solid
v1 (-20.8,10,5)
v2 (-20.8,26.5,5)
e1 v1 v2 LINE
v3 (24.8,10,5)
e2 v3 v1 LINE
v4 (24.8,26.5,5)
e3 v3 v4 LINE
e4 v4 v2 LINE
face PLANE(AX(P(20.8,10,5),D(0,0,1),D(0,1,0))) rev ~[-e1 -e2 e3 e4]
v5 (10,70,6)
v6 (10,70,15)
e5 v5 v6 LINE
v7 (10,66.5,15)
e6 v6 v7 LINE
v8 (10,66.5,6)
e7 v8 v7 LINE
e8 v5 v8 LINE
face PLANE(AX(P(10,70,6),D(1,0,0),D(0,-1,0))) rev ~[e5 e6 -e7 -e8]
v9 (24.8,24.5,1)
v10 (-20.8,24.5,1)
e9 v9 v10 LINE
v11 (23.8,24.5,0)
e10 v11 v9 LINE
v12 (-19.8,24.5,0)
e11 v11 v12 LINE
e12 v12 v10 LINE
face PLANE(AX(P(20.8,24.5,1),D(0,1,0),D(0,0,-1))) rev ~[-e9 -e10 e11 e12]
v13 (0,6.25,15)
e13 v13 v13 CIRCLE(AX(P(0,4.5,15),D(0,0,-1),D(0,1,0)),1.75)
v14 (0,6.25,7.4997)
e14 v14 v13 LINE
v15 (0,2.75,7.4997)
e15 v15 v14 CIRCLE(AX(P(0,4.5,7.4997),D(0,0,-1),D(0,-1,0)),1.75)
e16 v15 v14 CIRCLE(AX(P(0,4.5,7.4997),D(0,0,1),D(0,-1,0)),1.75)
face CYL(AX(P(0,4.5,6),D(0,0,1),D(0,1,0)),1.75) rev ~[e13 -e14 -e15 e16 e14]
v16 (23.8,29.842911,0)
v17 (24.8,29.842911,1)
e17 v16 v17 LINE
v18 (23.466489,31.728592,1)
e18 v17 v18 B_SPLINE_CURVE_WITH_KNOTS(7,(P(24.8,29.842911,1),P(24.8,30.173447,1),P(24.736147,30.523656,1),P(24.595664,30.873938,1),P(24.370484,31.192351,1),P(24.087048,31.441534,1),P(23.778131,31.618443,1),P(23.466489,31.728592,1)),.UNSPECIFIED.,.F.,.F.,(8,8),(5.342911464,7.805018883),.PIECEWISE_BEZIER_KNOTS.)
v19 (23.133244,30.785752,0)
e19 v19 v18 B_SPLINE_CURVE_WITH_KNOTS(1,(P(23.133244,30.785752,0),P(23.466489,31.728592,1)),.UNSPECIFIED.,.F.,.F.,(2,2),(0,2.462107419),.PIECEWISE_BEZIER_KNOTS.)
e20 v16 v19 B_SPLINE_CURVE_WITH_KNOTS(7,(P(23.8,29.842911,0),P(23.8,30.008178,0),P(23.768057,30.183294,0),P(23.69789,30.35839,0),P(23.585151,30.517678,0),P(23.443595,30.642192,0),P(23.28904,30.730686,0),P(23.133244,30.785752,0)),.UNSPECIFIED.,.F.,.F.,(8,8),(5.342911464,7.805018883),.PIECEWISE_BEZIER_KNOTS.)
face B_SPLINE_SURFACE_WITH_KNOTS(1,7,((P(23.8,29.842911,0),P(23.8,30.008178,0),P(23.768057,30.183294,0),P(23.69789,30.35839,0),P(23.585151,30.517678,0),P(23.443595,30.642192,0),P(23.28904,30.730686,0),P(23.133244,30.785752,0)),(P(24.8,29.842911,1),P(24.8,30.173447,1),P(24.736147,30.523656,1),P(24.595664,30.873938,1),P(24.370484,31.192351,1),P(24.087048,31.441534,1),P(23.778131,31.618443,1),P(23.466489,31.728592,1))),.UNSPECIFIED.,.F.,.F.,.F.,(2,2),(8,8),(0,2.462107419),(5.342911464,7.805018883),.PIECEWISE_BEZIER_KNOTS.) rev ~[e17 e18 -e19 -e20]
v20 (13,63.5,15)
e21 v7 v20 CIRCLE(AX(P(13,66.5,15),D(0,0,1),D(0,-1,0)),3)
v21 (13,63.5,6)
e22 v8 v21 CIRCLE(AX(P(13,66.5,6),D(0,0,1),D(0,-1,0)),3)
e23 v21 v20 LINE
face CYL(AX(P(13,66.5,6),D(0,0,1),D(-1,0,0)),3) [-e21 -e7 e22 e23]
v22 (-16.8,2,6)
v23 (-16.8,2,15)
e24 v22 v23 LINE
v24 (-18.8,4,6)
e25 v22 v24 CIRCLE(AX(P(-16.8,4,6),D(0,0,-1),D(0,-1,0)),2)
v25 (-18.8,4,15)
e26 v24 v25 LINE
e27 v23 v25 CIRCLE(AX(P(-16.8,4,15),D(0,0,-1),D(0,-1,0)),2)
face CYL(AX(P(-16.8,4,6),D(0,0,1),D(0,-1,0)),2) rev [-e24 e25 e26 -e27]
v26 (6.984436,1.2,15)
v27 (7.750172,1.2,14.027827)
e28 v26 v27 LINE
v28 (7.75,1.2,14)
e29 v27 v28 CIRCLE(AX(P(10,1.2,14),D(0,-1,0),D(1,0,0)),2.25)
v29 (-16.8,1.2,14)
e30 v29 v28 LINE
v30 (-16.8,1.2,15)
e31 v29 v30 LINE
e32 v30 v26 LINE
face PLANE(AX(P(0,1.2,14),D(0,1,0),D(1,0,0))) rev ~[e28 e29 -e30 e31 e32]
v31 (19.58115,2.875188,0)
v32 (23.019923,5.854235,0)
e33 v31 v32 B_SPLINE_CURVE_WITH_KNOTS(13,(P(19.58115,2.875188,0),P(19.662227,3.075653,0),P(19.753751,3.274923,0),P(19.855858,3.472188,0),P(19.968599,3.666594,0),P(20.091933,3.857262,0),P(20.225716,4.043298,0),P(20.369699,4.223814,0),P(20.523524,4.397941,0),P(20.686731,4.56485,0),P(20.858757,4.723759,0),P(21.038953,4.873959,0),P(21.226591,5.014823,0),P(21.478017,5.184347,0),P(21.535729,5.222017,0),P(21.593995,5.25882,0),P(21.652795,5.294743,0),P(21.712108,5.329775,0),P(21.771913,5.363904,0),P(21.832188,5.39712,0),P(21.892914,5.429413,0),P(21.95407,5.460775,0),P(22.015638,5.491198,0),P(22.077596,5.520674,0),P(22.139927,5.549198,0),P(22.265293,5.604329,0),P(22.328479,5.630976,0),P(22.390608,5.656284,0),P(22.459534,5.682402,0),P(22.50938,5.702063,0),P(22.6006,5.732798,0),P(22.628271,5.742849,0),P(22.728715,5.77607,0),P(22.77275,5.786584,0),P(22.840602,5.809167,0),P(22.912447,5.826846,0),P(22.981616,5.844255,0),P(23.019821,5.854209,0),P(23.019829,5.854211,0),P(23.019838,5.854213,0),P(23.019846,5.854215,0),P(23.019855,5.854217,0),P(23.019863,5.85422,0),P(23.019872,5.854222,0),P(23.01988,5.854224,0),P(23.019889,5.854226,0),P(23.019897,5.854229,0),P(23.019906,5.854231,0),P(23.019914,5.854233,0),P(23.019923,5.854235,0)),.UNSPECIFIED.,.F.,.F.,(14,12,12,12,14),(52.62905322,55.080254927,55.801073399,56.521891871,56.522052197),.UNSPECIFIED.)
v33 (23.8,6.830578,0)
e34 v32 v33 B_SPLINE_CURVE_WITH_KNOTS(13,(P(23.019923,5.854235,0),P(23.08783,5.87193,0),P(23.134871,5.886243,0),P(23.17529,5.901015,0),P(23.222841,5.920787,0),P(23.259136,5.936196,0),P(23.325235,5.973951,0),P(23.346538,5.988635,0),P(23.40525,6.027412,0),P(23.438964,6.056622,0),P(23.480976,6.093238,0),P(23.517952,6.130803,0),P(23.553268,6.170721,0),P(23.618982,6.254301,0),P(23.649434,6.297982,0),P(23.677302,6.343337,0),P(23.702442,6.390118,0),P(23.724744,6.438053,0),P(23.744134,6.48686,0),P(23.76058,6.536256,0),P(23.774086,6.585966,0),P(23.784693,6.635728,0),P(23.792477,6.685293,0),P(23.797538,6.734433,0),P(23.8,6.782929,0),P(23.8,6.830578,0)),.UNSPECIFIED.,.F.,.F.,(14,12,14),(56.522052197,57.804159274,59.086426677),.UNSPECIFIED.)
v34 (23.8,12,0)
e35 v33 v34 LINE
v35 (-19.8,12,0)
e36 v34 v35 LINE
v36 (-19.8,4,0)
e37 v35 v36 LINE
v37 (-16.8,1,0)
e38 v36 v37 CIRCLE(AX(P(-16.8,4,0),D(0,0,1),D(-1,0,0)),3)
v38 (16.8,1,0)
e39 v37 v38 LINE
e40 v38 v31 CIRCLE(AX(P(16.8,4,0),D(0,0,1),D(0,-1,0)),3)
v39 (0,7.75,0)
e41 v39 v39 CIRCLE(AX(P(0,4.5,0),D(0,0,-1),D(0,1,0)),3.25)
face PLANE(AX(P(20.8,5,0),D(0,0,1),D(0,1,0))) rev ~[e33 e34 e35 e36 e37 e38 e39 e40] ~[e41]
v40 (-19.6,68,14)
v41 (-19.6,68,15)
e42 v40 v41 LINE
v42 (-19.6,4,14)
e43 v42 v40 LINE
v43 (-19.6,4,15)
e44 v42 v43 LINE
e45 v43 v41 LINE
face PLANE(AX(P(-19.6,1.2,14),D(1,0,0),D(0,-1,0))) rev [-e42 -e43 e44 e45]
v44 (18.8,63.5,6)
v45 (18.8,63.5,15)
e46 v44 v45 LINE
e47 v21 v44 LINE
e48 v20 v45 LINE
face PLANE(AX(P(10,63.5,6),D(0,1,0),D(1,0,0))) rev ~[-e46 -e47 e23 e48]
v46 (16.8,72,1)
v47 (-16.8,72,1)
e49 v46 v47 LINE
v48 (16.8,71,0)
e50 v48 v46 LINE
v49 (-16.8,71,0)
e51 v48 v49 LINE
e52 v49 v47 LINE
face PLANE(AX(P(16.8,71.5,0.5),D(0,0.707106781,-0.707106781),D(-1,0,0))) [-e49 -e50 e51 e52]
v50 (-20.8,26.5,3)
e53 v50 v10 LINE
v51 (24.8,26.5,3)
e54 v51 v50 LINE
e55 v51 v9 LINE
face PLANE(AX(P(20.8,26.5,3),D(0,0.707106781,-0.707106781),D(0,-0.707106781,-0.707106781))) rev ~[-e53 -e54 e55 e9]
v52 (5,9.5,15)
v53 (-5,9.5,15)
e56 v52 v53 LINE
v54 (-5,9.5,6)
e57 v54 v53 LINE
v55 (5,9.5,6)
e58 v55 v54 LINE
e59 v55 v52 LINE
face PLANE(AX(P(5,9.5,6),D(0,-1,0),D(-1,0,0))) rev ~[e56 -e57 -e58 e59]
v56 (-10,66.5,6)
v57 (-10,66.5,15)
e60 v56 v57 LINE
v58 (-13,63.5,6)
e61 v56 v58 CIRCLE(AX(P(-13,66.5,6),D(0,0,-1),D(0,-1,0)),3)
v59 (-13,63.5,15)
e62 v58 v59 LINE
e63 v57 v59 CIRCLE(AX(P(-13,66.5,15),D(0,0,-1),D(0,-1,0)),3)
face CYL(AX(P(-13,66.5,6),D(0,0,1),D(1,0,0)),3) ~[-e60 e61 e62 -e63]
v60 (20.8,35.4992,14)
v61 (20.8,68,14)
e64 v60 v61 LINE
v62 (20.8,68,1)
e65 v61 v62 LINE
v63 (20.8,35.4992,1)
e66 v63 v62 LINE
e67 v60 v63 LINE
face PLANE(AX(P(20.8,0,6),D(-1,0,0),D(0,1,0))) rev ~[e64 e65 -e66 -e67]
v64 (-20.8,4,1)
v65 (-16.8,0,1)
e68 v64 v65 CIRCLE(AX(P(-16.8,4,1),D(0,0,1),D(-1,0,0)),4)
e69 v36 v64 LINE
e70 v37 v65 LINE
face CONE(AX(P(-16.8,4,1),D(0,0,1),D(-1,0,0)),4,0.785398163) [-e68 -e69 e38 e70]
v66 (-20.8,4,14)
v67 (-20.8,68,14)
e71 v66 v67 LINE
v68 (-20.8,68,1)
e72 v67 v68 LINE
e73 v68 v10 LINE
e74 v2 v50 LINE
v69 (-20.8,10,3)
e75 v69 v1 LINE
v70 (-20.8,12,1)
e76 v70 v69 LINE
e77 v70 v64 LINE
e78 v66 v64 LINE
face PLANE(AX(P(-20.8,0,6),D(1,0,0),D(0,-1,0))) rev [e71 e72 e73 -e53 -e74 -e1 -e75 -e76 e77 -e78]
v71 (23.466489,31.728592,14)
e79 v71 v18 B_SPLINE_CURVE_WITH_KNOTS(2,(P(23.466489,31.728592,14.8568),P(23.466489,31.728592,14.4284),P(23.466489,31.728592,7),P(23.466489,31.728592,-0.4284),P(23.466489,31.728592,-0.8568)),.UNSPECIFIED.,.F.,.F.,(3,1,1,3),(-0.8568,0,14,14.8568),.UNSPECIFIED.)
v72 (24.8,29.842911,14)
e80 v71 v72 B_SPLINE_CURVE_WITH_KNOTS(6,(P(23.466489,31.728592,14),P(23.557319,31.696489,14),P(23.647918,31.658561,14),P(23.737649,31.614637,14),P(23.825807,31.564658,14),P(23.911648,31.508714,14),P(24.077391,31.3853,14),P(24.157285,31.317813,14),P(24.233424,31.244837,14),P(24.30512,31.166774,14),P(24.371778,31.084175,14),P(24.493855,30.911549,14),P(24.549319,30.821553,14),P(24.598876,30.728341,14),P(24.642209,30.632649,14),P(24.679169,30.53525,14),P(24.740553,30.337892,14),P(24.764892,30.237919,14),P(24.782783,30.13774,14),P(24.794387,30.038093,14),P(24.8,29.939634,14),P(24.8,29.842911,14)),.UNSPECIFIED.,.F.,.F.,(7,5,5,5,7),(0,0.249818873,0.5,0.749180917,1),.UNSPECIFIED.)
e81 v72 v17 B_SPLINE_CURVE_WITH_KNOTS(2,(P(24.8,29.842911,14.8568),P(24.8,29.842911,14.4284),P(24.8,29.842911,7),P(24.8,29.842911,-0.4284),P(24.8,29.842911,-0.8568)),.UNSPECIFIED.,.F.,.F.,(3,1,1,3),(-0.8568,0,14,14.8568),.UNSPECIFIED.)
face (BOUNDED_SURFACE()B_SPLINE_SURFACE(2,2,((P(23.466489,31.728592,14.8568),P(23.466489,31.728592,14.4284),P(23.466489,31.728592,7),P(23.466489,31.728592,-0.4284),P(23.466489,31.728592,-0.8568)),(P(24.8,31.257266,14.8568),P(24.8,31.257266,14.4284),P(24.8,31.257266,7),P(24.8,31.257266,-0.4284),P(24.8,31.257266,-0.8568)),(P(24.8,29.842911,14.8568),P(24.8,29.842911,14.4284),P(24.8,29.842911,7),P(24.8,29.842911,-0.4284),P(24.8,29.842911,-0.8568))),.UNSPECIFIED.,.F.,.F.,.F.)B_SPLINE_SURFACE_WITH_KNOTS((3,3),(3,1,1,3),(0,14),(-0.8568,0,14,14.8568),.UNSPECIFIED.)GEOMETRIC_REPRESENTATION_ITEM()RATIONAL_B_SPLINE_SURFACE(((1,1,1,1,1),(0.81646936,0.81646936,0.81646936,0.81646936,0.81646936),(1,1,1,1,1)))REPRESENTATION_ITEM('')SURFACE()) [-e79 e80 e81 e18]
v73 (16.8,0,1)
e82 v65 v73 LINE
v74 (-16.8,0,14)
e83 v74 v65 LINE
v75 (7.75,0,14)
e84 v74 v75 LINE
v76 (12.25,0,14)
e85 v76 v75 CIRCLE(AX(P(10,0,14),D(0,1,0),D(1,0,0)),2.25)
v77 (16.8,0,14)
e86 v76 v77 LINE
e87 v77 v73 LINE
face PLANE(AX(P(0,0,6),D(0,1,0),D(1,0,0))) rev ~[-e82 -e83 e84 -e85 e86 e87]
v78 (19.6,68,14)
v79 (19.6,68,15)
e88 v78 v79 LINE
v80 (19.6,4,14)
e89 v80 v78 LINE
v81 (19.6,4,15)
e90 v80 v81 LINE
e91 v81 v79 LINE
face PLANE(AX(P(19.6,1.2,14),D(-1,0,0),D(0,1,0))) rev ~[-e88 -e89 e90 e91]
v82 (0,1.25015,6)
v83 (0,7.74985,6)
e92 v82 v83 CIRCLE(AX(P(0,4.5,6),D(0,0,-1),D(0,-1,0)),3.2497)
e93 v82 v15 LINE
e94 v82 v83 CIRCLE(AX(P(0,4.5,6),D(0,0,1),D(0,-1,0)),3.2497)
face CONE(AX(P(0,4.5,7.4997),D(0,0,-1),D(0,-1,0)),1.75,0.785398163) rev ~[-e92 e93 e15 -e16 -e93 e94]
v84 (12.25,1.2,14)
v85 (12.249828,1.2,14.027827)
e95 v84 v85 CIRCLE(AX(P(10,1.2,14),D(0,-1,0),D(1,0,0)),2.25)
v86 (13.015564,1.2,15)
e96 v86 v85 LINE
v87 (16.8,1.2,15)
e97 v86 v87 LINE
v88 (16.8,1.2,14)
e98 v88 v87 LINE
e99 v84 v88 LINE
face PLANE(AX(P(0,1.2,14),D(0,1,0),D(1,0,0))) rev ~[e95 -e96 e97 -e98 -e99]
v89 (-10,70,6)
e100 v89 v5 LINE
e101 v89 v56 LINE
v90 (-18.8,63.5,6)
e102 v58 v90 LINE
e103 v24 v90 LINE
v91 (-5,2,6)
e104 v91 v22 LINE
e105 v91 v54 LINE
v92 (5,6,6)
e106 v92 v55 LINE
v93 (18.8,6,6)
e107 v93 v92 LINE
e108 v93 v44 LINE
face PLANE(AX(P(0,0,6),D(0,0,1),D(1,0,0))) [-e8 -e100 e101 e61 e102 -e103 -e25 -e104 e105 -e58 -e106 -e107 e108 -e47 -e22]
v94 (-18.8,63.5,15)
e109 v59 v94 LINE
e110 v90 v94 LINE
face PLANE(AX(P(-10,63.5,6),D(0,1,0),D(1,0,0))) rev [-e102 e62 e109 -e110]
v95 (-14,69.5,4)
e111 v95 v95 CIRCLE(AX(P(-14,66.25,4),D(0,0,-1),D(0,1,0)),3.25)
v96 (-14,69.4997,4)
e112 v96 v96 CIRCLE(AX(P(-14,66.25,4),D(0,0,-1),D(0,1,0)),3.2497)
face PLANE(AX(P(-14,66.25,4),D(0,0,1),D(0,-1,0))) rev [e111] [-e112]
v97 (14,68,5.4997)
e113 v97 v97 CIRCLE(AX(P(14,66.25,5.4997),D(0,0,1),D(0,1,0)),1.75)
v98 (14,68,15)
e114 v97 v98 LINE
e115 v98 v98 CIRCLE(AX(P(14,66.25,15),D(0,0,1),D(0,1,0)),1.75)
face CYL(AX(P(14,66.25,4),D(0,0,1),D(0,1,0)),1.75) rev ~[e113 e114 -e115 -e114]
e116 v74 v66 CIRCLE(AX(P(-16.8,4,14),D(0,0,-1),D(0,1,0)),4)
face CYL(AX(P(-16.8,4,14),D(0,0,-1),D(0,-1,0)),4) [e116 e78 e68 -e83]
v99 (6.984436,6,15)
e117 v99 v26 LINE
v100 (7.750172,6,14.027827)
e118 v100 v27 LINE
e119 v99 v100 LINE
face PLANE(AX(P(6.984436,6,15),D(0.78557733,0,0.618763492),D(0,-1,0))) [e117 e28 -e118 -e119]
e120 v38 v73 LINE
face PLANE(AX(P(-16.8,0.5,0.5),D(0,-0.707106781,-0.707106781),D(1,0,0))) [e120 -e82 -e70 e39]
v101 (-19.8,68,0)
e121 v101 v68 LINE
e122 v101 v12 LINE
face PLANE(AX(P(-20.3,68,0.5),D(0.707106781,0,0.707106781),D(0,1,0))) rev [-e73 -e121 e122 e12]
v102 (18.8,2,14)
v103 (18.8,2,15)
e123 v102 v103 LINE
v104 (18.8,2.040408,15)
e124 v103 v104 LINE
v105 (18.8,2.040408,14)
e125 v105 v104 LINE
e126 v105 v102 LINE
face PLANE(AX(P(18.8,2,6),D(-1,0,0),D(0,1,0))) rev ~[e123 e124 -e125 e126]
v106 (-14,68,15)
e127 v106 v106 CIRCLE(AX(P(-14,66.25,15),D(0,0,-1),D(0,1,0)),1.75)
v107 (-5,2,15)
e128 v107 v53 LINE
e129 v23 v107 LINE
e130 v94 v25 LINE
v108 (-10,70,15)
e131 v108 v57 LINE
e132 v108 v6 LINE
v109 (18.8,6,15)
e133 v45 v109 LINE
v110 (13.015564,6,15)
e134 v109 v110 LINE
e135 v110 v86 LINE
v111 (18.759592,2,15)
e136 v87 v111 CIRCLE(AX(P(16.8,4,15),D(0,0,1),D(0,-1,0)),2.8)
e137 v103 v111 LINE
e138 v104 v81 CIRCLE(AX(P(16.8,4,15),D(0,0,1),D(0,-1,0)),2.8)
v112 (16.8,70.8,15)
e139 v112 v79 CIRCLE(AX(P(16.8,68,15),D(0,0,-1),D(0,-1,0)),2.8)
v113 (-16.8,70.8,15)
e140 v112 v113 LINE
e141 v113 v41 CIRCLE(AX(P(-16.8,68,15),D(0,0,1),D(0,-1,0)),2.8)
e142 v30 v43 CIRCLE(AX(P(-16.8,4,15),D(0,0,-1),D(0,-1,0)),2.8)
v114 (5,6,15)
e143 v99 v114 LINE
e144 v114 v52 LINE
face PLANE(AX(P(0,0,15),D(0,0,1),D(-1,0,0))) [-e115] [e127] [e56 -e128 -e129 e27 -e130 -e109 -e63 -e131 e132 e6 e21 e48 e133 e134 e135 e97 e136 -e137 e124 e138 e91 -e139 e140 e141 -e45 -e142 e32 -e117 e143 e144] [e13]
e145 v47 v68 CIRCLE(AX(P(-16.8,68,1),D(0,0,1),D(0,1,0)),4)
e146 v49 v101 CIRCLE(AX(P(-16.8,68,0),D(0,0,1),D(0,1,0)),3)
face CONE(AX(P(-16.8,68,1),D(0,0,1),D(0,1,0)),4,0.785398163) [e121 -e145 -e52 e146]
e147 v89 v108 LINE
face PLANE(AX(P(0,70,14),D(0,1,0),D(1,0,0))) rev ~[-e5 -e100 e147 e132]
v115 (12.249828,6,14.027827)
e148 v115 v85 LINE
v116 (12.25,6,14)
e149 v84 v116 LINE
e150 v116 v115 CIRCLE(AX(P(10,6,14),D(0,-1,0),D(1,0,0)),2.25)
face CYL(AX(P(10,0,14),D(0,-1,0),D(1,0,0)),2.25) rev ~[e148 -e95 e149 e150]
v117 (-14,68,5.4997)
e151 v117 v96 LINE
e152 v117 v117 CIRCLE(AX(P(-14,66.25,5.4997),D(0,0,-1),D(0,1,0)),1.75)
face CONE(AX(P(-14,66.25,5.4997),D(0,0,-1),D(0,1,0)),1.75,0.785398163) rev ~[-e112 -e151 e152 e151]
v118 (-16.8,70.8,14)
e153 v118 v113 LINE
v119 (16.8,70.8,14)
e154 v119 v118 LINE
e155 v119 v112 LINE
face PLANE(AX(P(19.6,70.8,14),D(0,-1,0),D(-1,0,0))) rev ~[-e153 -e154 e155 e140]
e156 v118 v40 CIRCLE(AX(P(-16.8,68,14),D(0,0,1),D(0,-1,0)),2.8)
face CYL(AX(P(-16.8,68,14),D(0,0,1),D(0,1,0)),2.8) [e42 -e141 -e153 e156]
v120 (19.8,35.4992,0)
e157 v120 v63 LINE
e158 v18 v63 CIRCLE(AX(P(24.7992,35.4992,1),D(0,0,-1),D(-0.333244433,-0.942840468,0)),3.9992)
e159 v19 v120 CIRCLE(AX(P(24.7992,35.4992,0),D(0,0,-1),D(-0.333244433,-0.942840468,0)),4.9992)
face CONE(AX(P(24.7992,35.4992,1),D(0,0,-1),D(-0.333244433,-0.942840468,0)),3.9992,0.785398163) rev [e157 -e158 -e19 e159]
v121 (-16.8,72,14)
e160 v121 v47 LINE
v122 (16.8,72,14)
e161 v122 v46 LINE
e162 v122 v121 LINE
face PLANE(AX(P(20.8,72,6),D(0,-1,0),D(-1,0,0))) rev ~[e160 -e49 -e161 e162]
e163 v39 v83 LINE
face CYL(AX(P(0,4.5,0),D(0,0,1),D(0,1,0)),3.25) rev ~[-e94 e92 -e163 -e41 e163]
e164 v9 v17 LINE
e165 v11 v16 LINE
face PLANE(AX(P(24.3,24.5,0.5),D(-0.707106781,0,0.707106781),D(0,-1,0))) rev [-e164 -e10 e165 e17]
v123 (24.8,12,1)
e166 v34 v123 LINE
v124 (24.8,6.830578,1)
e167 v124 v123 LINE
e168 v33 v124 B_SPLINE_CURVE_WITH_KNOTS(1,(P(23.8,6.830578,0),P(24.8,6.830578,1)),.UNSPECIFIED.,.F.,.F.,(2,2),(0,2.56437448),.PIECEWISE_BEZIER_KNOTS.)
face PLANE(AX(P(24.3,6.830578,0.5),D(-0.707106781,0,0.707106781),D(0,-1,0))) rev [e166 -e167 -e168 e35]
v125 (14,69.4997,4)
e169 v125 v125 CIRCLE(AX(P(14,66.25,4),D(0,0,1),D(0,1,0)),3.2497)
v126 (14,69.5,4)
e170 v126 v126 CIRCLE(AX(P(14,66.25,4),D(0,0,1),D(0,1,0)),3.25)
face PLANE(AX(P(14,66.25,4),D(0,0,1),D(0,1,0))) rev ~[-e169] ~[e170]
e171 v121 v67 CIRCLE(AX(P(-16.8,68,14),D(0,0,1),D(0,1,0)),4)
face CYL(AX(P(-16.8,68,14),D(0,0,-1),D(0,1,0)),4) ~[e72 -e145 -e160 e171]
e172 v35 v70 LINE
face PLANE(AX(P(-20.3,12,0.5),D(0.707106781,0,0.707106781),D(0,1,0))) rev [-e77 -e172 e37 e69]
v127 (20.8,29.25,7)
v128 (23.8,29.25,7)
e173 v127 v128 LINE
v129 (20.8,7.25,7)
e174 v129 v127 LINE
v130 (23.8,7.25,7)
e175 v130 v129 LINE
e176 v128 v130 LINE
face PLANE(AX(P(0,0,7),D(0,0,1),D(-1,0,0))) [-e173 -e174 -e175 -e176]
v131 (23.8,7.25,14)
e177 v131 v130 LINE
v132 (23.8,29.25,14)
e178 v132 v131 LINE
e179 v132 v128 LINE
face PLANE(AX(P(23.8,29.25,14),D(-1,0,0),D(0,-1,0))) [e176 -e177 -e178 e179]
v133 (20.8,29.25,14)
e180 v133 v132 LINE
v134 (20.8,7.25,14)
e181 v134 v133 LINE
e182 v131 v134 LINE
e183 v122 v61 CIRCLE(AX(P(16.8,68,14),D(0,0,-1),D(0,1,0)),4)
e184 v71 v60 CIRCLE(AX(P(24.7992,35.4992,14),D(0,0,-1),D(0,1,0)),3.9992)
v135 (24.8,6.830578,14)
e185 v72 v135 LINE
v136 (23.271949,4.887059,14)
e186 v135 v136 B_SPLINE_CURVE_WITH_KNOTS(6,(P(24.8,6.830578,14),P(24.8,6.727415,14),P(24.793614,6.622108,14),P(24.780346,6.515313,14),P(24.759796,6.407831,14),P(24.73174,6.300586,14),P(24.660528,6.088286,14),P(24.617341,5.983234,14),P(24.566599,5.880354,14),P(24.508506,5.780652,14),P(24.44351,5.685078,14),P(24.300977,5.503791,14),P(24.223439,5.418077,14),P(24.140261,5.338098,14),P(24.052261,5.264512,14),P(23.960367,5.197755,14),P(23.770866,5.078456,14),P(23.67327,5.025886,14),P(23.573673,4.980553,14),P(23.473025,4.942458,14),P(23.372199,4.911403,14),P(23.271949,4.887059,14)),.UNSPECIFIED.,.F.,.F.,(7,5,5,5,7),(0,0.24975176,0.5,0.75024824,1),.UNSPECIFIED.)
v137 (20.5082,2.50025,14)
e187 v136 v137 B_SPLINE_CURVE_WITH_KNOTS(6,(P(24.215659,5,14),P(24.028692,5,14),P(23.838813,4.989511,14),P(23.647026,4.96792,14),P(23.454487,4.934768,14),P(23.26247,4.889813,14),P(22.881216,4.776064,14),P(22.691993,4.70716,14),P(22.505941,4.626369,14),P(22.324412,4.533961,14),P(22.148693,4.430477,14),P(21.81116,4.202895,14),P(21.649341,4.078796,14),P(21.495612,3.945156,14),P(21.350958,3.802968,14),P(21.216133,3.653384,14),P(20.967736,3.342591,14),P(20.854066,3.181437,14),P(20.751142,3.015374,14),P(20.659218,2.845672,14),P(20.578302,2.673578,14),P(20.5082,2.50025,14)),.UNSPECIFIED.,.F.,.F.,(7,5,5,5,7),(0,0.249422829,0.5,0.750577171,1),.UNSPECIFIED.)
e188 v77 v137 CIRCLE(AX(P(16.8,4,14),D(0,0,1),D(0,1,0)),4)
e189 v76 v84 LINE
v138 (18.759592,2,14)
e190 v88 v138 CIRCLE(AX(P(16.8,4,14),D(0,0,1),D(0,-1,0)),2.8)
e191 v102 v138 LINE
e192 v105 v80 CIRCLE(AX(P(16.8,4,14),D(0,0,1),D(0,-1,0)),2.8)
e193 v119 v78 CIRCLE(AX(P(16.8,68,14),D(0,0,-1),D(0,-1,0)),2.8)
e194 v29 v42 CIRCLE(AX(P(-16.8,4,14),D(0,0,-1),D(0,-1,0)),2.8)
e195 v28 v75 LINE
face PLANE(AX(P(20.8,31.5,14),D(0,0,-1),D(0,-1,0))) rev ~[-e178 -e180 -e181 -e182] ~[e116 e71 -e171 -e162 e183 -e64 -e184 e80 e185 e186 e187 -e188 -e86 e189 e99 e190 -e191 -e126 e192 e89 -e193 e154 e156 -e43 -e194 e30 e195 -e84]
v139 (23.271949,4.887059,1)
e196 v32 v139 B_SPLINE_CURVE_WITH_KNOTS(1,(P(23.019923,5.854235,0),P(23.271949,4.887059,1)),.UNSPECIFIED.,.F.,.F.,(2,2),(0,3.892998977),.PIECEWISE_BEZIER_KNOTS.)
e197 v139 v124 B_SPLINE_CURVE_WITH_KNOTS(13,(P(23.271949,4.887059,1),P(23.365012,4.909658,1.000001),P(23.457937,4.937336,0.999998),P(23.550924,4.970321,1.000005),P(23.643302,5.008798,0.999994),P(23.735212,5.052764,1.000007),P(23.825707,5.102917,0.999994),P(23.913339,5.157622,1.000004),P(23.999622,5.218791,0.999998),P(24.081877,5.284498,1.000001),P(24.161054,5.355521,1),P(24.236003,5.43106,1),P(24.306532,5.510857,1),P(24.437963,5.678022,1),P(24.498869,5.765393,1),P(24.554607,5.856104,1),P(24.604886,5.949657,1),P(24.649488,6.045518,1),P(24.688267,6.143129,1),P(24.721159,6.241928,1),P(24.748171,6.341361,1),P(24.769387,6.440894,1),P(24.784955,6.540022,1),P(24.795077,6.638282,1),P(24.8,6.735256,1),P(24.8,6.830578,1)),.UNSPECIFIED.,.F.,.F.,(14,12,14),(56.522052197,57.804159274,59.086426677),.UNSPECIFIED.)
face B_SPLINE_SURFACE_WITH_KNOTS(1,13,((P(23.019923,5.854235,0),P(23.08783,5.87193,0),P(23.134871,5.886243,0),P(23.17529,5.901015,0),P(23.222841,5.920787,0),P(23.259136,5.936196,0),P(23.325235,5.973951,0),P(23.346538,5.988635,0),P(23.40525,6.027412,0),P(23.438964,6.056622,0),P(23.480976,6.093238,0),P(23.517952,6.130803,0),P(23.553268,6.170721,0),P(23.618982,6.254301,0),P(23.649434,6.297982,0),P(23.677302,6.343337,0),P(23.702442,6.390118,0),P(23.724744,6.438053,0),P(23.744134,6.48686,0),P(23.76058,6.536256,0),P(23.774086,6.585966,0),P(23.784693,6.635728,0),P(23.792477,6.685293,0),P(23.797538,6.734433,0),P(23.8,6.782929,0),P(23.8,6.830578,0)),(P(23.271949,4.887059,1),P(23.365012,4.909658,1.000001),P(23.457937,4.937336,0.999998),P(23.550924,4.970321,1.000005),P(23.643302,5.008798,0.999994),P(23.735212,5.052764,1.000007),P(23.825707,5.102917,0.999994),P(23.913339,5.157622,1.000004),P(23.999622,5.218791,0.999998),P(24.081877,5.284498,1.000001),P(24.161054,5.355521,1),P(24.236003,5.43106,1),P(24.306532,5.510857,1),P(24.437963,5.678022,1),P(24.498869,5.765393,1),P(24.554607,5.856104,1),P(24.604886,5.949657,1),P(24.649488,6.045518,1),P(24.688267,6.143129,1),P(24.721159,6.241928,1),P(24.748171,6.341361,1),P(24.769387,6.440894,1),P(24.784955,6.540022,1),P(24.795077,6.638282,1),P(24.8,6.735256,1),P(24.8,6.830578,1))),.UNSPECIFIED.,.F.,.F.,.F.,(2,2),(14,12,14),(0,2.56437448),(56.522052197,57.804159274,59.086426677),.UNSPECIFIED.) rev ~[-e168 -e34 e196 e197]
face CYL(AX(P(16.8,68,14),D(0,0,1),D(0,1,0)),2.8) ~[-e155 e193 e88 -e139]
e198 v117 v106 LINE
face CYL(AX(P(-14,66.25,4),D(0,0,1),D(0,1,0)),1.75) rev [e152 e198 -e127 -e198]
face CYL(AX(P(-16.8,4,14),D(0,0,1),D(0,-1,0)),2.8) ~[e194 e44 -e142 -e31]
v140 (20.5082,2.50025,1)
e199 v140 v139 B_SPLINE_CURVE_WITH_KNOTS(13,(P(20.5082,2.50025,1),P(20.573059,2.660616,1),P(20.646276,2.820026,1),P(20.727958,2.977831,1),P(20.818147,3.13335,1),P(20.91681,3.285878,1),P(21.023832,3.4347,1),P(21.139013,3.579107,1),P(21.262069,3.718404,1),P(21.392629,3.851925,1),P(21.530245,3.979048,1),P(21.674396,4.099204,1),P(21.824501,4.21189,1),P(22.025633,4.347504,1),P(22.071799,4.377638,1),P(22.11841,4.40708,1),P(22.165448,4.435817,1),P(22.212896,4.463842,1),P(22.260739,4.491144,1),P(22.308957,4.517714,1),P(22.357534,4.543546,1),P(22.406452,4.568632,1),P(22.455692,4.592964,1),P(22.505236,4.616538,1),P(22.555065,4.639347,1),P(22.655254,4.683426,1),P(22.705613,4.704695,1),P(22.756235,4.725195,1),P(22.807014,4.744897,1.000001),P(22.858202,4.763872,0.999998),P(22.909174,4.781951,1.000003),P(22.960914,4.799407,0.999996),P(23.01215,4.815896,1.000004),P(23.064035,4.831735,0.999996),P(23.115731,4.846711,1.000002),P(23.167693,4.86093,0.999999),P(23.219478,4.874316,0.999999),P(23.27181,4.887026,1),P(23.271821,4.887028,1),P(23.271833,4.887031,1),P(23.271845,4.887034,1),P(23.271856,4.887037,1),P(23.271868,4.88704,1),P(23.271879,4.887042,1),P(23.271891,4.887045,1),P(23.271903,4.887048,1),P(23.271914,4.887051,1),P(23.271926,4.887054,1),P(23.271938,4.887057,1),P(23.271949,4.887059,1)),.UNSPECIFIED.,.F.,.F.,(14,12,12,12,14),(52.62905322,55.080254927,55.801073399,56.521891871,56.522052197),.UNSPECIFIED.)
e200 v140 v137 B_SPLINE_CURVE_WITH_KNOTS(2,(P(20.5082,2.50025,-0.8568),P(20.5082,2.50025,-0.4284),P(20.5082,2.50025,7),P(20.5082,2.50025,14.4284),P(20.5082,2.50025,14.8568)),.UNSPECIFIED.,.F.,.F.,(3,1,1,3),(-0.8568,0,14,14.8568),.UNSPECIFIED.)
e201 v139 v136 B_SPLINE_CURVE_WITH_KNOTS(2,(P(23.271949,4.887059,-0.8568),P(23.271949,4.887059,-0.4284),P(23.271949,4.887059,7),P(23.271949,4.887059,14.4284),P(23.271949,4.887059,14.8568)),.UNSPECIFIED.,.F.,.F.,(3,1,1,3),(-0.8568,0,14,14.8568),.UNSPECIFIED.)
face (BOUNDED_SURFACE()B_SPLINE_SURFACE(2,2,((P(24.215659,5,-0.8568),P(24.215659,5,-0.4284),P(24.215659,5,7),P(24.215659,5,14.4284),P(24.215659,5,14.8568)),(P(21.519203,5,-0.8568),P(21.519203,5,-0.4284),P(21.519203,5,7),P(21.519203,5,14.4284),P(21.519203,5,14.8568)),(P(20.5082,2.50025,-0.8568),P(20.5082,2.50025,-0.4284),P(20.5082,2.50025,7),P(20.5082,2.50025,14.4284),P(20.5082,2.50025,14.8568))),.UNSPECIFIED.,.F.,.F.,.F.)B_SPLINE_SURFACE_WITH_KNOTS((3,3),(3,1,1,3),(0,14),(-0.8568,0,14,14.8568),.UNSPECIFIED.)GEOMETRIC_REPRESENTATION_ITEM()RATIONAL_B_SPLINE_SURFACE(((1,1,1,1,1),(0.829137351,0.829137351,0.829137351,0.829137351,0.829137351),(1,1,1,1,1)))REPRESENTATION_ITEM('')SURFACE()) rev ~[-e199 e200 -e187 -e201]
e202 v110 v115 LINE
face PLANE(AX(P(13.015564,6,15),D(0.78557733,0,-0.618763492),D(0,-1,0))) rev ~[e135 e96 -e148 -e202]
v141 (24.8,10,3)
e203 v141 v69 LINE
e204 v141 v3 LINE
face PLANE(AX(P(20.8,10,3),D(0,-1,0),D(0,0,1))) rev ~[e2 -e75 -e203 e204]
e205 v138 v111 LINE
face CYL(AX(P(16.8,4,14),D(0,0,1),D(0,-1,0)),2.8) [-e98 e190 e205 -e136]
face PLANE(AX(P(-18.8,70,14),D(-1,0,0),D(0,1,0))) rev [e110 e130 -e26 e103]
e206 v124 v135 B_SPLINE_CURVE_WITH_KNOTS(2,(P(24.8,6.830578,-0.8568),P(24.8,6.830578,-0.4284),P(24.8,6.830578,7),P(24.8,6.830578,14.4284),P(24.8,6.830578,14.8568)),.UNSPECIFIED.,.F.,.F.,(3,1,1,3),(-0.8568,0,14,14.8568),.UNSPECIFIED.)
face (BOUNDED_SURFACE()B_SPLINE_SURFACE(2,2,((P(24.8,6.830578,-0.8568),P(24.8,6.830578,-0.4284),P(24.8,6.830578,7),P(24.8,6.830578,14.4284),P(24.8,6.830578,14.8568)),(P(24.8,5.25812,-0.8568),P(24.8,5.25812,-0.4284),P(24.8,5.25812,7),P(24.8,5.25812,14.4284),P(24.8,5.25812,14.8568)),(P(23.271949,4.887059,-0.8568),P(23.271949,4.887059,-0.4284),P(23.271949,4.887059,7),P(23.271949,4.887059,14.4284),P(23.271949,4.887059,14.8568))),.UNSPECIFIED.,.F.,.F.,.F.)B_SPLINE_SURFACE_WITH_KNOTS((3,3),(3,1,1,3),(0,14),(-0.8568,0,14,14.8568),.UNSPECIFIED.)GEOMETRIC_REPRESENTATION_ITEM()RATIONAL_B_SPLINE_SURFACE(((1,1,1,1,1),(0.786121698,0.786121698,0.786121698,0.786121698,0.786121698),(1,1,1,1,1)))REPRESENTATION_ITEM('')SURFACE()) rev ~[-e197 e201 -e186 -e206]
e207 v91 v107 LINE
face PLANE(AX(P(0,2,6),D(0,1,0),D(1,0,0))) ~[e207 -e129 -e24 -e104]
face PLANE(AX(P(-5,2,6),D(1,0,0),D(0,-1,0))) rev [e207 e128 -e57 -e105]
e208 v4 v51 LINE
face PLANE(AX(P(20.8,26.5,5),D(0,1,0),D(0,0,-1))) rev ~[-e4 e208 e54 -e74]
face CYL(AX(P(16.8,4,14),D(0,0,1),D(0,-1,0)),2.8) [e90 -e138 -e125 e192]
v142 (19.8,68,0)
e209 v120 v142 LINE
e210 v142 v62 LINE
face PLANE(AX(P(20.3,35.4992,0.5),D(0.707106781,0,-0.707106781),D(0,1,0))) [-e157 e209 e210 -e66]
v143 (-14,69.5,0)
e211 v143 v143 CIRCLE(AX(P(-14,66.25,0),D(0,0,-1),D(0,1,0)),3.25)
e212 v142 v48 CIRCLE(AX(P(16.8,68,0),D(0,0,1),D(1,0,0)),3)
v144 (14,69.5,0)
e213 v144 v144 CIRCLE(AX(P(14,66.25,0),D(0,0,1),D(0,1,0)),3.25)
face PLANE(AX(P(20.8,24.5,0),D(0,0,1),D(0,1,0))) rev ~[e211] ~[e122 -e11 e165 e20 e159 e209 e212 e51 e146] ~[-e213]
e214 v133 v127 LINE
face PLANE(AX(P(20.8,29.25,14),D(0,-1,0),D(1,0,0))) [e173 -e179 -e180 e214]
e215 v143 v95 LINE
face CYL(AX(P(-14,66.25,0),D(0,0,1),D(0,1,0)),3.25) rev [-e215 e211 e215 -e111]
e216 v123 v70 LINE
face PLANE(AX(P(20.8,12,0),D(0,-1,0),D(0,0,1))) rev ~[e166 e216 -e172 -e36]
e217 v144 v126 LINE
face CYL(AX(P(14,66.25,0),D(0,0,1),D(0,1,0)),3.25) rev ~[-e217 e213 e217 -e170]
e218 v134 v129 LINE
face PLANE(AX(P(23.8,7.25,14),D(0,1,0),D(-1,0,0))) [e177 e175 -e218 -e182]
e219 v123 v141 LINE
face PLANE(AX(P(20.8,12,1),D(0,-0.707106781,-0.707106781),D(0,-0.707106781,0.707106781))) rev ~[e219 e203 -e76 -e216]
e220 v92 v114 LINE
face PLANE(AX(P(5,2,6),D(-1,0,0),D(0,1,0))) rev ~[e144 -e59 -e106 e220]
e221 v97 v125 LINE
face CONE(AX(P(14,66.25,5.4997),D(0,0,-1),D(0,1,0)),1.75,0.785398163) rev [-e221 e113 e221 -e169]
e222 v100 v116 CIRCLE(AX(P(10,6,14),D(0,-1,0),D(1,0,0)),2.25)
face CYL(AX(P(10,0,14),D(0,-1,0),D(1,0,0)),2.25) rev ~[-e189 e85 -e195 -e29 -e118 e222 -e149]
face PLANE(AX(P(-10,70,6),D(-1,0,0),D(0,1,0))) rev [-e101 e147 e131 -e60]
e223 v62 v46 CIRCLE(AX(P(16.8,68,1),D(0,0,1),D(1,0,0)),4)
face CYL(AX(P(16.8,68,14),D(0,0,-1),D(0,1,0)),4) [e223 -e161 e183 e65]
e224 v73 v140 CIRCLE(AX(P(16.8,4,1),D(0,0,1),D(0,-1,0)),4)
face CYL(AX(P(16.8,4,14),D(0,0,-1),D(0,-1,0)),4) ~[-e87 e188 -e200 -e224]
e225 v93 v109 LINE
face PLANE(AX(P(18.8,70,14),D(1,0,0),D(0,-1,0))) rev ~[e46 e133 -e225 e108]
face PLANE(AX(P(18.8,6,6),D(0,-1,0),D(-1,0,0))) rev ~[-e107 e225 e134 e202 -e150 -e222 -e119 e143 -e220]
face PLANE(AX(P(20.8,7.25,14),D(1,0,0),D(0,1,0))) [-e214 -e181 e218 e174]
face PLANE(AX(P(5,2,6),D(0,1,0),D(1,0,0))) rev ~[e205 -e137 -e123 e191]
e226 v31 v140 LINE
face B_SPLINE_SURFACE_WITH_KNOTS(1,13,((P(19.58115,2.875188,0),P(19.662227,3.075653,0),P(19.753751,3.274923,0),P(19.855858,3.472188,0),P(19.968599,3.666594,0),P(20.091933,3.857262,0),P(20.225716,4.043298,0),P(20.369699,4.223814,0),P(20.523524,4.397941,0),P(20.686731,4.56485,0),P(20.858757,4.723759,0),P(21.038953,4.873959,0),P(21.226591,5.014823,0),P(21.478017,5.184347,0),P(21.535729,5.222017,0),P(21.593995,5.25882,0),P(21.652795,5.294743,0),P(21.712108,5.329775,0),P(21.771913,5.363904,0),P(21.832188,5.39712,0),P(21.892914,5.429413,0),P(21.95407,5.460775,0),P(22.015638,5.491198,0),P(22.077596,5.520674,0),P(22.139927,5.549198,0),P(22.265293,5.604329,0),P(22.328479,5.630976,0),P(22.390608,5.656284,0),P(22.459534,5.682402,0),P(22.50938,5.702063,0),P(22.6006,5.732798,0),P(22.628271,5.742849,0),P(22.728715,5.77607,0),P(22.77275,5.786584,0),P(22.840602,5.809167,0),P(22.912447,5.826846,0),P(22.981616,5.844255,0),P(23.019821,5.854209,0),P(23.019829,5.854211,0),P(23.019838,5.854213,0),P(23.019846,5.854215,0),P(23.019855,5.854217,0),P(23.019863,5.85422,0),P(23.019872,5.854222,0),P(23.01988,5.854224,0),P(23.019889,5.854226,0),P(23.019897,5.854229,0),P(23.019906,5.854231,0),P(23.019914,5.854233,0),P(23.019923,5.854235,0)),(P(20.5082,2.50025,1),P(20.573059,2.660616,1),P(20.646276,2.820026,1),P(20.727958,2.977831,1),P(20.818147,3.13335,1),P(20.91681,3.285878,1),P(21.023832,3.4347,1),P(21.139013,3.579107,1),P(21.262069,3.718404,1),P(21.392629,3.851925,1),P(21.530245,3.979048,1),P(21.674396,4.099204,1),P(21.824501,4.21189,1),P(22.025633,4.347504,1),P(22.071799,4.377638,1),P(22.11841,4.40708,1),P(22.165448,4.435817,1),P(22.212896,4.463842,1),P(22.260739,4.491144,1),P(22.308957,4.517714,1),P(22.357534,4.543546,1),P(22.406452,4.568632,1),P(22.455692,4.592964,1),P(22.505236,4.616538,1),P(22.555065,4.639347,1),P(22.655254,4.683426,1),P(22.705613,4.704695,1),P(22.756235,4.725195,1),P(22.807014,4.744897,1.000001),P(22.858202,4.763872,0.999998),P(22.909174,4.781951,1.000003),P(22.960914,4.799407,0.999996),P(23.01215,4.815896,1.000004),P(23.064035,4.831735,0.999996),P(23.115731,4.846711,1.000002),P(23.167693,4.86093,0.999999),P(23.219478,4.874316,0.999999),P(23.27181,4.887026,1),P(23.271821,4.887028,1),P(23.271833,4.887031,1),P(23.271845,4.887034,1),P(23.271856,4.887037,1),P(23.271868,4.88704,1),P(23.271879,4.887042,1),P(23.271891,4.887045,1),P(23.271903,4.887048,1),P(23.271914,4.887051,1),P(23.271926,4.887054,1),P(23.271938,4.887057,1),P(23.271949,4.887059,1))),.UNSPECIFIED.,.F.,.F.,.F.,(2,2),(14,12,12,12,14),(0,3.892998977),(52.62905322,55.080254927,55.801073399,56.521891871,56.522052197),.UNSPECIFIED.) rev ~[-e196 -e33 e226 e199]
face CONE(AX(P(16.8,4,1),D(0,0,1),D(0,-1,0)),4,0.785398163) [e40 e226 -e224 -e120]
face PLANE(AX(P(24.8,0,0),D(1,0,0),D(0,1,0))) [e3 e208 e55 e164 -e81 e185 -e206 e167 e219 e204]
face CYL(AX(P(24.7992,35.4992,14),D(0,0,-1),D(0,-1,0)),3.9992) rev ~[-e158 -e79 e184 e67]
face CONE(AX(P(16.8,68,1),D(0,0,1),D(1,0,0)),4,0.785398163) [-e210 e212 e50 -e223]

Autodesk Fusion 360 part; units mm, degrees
sketch "Skizze1" plane through (0, 0, 0) normal (0, 0, 1) x (1, 0, 0)
  line L0 (0, 0) -> (20.8, 0)
  line L1 (20.8, 0) -> (20.8, 72)
  line L2 (20.8, 72) -> (0, 72)
  line L3 (0, 72) -> (0, 0)
  dimension "d1" = 20.8
  dimension "d2" = 72
extrude "Extrusion1" add sketch "Skizze1" along normal blind 6
sketch "Skizze2" plane through (0, 0, 0) normal (-1, 0, 0) x (0, -1, 0)
  line L0 (-72, 0) -> (0, 0)
  line L1 (0, 0) -> (0, 6)
  line L2 (0, 6) -> (-72, 6)
  line L3 (-72, 6) -> (-72, 0)
  line L4 (-24.5, 0) -> (-12, 0)
  line L5 (-12, 0) -> (-12, 1)
  line L6 (-12, 1) -> (-10, 3)
  line L7 (-10, 3) -> (-10, 5)
  line L8 (-10, 5) -> (-26.5, 5)
  line L9 (-26.5, 5) -> (-26.5, 3)
  line L10 (-26.5, 3) -> (-24.5, 1)
  line L11 (-24.5, 1) -> (-24.5, 0)
  dimension "d5" = 16.5
  dimension "d6" = 1
  dimension "d7" = 1
  dimension "d8" = 45
  dimension "d9" = 45
  dimension "d10" = 2
  dimension "d11" = 2
  dimension "d12" = 2
  dimension "d13" = 10
extrude "Extrusion2" cut sketch "Skizze2" against normal through all contours L0 L4 L5 L6 L7 L8 L9 L10 L11
sketch "Skizze3" plane through (0, 0, 6) normal (0, 0, 1) x (-1, 0, 0)
  line L0 (0, -72) -> (0, 0)
  line L1 (0, 0) -> (-20.8, 0)
  line L2 (-20.8, 0) -> (-20.8, -72)
  line L3 (-20.8, -72) -> (0, -72)
  line L4 (0, -72) -> (-20.8, -72)
  line L5 (-20.8, -72) -> (-20.8, 0)
  line L6 (-20.8, 0) -> (0, 0)
  line L7 (0, 0) -> (0, -2)
  line L8 (0, -2) -> (-18.8, -2)
  line L9 (-18.8, -2) -> (-18.8, -70)
  line L10 (-18.8, -70) -> (0, -70)
  line L11 (0, -70) -> (0, -72)
  dimension "d15" = 2
  dimension "d16" = 2
  dimension "d17" = 2
extrude "Extrusion3" add sketch "Skizze3" along normal blind 8 contours L0 L1 L2 L3 L4 L5 L6 L7 L8 L9 L10 L11
sketch "Skizze4" plane through (0, 0, 14) normal (0, 0, 1) x (-1, 0, 0)
  line L0 (0, -70) -> (-18.8, -70)
  line L1 (-18.8, -70) -> (-18.8, -2)
  line L2 (-18.8, -2) -> (0, -2)
  line L3 (0, -70) -> (-18.8, -70)
  line L4 (-18.8, -70) -> (-18.8, -2)
  line L5 (-18.8, -2) -> (0, -2)
  line L6 (0, -2) -> (0, -1.2)
  line L7 (0, -1.2) -> (-19.6, -1.2)
  line L8 (-19.6, -1.2) -> (-19.6, -70.8)
  line L9 (-19.6, -70.8) -> (0, -70.8)
  line L10 (0, -70.8) -> (0, -70)
  dimension "d49" = 0.8
  dimension "d50" = 0.8
  dimension "d51" = 0.8
extrude "Extrusion4" add sketch "Skizze4" along normal blind 1
sketch "Skizze5" plane through (0, 0, 6) normal (0, 0, 1) x (-1, 0, 0)
  line L0 (0, -2) -> (-18.8, -2)
  line L1 (-18.8, -2) -> (-18.8, -70)
  line L2 (-18.8, -70) -> (0, -70)
  line L3 (0, -70) -> (0, -2)
  line L4 (-18.8, -70) -> (-10, -70)
  line L5 (-10, -70) -> (-10, -63.5)
  line L6 (-10, -63.5) -> (-18.8, -63.5)
  line L7 (-18.8, -63.5) -> (-18.8, -70)
  dimension "d25" = 10
  dimension "d26" = 6.5
extrude "Extrusion5" add sketch "Skizze5" along normal blind 9 contours L1 L2 L4 L5 L6 L7
sketch "Skizze7" plane through (0, 0, 0) normal (0, 0, -1) x (1, 0, 0)
  line L0 (20.8, -24.5) -> (0, -24.5)
  line L1 (0, -24.5) -> (0, -72)
  line L2 (0, -72) -> (20.8, -72)
  line L3 (20.8, -72) -> (20.8, -24.5)
  point P0 (14, -66.25)
  dimension "d31" = 14
  dimension "d32" = 5.75
hole "Bohrung1" at (14, 66.25, 0) direction (0, 0, 1) diameter 3.5 end through all counterbore diameter 6.5 counterbore depth 4
chamfer "Fase1" distance 1.5 angle 45 1 edges at (15.6316, 66.8828, 4)
sketch "Skizze8" plane through (0, 0, 6) normal (0, 0, 1) x (-1, 0, 0)
  line L0 (-18.8, -63.5) -> (-10, -63.5)
  line L1 (-10, -63.5) -> (-10, -70)
  line L2 (-10, -70) -> (0, -70)
  line L3 (0, -70) -> (0, -2)
  line L4 (0, -2) -> (-18.8, -2)
  line L5 (-18.8, -2) -> (-18.8, -63.5)
  line L6 (0, -2) -> (-5, -2)
  line L7 (-5, -2) -> (-5, -9.5)
  line L8 (-5, -9.5) -> (0, -9.5)
  line L9 (0, -9.5) -> (0, -2)
  dimension "d38" = 5
  dimension "d39" = 9.5
extrude "Extrusion6" add sketch "Skizze8" along normal blind 9 contours L3 L4 L6 L7 L8 L9
sketch "Skizze9" plane through (0, 0, 0) normal (0, 0, -1) x (1, 0, 0)
  line L0 (0, -12) -> (20.8, -12)
  line L1 (20.8, -12) -> (20.8, 0)
  line L2 (20.8, 0) -> (0, 0)
  line L3 (0, 0) -> (0, -12)
  point P0 (0, -4.5)
  dimension "d42" = 4.5
hole "Bohrung2" at (0, 4.5, 0) direction (0, 0, 1) diameter 3.5 depth 16 tip angle 180 counterbore diameter 6.5 counterbore depth 6
chamfer "Fase2" distance 1.5 angle 45 1 edges at (1.75, 4.5, 6)
fillet "Abrundung6" radius 2 1 edges at (18.8, 2, 10.5)
fillet "Abrundung2" radius 2.8 2 edges at (19.6, 1.2, 14.5) (19.6, 70.8, 14.5)
fillet "Abrundung4" radius 4 2 edges at (20.8, 0, 7) (20.8, 72, 7)
fillet "Abrundung5" radius 3 1 edges at (10, 63.5, 10.5)
mirror "Spiegeln1" about plane through (0, 0, 0) normal (1, 0, 0) of bodies 1 merged
sketch "Skizze11" plane through (0, 0, 6) normal (0, 0, 1) x (-1, 0, 0)
  line L0 (-18.8, -4) -> (-18.8, -63.5)
  line L1 (-18.8, -63.5) -> (-13, -63.5)
  arc A0 (-10, -66.5) -> (-13, -63.5) centre (-13, -66.5) ccw
  line L2 (-10, -66.5) -> (-10, -70)
  line L3 (-10, -70) -> (10, -70)
  line L4 (10, -70) -> (10, -66.5)
  arc A1 (13, -63.5) -> (10, -66.5) centre (13, -66.5) ccw
  line L5 (13, -63.5) -> (18.8, -63.5)
  line L6 (18.8, -63.5) -> (18.8, -4)
  line L7 (16.8, -2) -> (5, -2)
  line L8 (5, -2) -> (5, -9.5)
  line L9 (5, -9.5) -> (-5, -9.5)
  line L10 (-5, -9.5) -> (-5, -2)
  line L11 (-5, -2) -> (-16.8, -2)
  line L12 (-5, -2) -> (-18.8, -2)
  line L13 (-18.8, -2) -> (-18.8, -6)
  line L14 (-18.8, -6) -> (-5, -6)
  line L15 (-5, -6) -> (-5, -2)
  arc A2 (-16.8, -2) -> (-18.8, -4) centre (-16.8, -4) ccw
  arc A3 (18.8, -4) -> (16.8, -2) centre (16.8, -4) ccw
  dimension "d68" = 4
extrude "Extrusion7" add sketch "Skizze11" along normal blind 9 contours L0 L10 L11 L12 L13 L14 L15 A2 | L12 L13 A2
sketch "Skizze10" plane through (0, 0, 0) normal (0, -1, 0) x (1, 0, 0)
  line L0 (16.8, 0) -> (16.8, 14)
  line L1 (16.8, 14) -> (-16.8, 14)
  line L2 (-16.8, 14) -> (-16.8, 0)
  circle A0 centre (10, 14) radius 2.25
  line L3 (-16.8, 0) -> (16.8, 0)
  dimension "d66" = 4.5
  dimension "d67" = 10
extrude "Extrusion8" cut sketch "Skizze10" against normal blind 12 contours L1 A0 | L1 A0
chamfer "Fase5" distance 1 angle 45 3 edges at (7.9844, 3.6, 15) (12.0156, 3.6, 15) (7.9844, 3.6, 15)
sketch "Skizze16" plane through (20.8, 0, 0) normal (1, 0, 0) x (0, 1, 0)
  line L0 (68, 0) -> (68, 14)
  line L1 (68, 14) -> (4, 14)
  line L2 (4, 14) -> (4, 0)
  line L3 (4, 0) -> (12, 0)
  line L4 (12, 0) -> (12, 1)
  line L5 (12, 1) -> (10, 3)
  line L6 (10, 3) -> (10, 5)
  line L7 (10, 5) -> (26.5, 5)
  line L8 (26.5, 5) -> (26.5, 3)
  line L9 (26.5, 3) -> (24.5, 1)
  line L10 (24.5, 1) -> (24.5, 0)
  line L11 (24.5, 0) -> (68, 0)
  line L12 (5, 14) -> (31.5, 14)
  line L13 (31.5, 14) -> (31.5, 0)
  line L14 (31.5, 0) -> (5, 0)
  line L15 (5, 0) -> (5, 14)
  dimension "d100" = 5
  dimension "d101" = 5
extrude "Extrusion12" add sketch "Skizze16" along normal blind 4 contours L1 L3 L4 L5 L6 L7 L8 L9 L10 L11 L12 L13 L14 L15
sketch "Skizze17" plane through (0, 0, 14) normal (0, 0, 1) x (-1, 0, 0)
  line L0 (-12.25, -1.2) -> (-12.25, 0)
  line L1 (-12.25, 0) -> (-16.8, 0)
  arc A0 (-16.8, 0) -> (-20.8, -4) centre (-16.8, -4) ccw
  line L2 (-20.8, -4) -> (-20.8, -5)
  line L3 (-20.8, -5) -> (-24.8, -5)
  line L4 (-24.8, -5) -> (-24.8, -31.5)
  line L5 (-24.8, -31.5) -> (-20.8, -31.5)
  line L6 (-20.8, -31.5) -> (-20.8, -68)
  arc A1 (-20.8, -68) -> (-16.8, -72) centre (-16.8, -68) ccw
  line L7 (-16.8, -72) -> (16.8, -72)
  arc A2 (16.8, -72) -> (20.8, -68) centre (16.8, -68) ccw
  line L8 (20.8, -68) -> (20.8, -4)
  arc A3 (20.8, -4) -> (16.8, 0) centre (16.8, -4) ccw
  line L9 (16.8, 0) -> (-7.75, 0)
  line L10 (-7.75, 0) -> (-7.75, -1.2)
  line L11 (-7.75, -1.2) -> (16.8, -1.2)
  arc A4 (19.6, -4) -> (16.8, -1.2) centre (16.8, -4) ccw
  line L12 (19.6, -4) -> (19.6, -68)
  arc A5 (16.8, -70.8) -> (19.6, -68) centre (16.8, -68) ccw
  line L13 (16.8, -70.8) -> (-16.8, -70.8)
  arc A6 (-19.6, -68) -> (-16.8, -70.8) centre (-16.8, -68) ccw
  line L14 (-19.6, -68) -> (-19.6, -4)
  arc A7 (-18.8, -2.0404) -> (-19.6, -4) centre (-16.8, -4) ccw
  line L15 (-18.8, -2.0404) -> (-18.8, -2)
  line L16 (-18.8, -2) -> (-18.7596, -2)
  arc A8 (-16.8, -1.2) -> (-18.7596, -2) centre (-16.8, -4) ccw
  line L17 (-16.8, -1.2) -> (-12.25, -1.2)
  line L18 (-20.8, -29.25) -> (-23.8, -29.25)
  line L19 (-23.8, -29.25) -> (-23.8, -7.25)
  line L20 (-23.8, -7.25) -> (-20.8, -7.25)
  line L21 (-20.8, -7.25) -> (-20.8, -29.25)
  dimension "d104" = 1
  dimension "d105" = 22
  dimension "d106" = 2.25
  dimension "d107" = 2.25
  dimension "d108" = 3
extrude "Extrusion13" cut sketch "Skizze17" against normal blind 7 contours L18 L19 L20 L21
fillet "Abrundung11" radius 4 2 edges at (20.8, 5, 7) (20.8, 31.5, 7)
fillet "Abrundung12" radius 2 2 edges at (24.8, 5, 7) (24.8, 31.5, 7)
chamfer "Fase7" distance 1 angle 45 15 edges at (19.0361, 0.6834, 0) (21.6018, 4.0273, 0) (24.3723, 5.5944, 0) (24.8, 9.4152, 0) (-20.8, 8, 0) (-19.6284, 1.1716, 0) (0, 0, 0) (20.8, 51.75, 0) (19.6284, 70.8284, 0) (0, 72, 0) (-19.6284, 70.8284, 0) (-20.8, 46.25, 0) (24.8, 27.1716, 0) (24.433, 30.9978, 0) (21.534, 33.1906, 0)
equation "d1 = ( 41.6 / 2 ) * 1 mm"
equation "d106 = d107"
